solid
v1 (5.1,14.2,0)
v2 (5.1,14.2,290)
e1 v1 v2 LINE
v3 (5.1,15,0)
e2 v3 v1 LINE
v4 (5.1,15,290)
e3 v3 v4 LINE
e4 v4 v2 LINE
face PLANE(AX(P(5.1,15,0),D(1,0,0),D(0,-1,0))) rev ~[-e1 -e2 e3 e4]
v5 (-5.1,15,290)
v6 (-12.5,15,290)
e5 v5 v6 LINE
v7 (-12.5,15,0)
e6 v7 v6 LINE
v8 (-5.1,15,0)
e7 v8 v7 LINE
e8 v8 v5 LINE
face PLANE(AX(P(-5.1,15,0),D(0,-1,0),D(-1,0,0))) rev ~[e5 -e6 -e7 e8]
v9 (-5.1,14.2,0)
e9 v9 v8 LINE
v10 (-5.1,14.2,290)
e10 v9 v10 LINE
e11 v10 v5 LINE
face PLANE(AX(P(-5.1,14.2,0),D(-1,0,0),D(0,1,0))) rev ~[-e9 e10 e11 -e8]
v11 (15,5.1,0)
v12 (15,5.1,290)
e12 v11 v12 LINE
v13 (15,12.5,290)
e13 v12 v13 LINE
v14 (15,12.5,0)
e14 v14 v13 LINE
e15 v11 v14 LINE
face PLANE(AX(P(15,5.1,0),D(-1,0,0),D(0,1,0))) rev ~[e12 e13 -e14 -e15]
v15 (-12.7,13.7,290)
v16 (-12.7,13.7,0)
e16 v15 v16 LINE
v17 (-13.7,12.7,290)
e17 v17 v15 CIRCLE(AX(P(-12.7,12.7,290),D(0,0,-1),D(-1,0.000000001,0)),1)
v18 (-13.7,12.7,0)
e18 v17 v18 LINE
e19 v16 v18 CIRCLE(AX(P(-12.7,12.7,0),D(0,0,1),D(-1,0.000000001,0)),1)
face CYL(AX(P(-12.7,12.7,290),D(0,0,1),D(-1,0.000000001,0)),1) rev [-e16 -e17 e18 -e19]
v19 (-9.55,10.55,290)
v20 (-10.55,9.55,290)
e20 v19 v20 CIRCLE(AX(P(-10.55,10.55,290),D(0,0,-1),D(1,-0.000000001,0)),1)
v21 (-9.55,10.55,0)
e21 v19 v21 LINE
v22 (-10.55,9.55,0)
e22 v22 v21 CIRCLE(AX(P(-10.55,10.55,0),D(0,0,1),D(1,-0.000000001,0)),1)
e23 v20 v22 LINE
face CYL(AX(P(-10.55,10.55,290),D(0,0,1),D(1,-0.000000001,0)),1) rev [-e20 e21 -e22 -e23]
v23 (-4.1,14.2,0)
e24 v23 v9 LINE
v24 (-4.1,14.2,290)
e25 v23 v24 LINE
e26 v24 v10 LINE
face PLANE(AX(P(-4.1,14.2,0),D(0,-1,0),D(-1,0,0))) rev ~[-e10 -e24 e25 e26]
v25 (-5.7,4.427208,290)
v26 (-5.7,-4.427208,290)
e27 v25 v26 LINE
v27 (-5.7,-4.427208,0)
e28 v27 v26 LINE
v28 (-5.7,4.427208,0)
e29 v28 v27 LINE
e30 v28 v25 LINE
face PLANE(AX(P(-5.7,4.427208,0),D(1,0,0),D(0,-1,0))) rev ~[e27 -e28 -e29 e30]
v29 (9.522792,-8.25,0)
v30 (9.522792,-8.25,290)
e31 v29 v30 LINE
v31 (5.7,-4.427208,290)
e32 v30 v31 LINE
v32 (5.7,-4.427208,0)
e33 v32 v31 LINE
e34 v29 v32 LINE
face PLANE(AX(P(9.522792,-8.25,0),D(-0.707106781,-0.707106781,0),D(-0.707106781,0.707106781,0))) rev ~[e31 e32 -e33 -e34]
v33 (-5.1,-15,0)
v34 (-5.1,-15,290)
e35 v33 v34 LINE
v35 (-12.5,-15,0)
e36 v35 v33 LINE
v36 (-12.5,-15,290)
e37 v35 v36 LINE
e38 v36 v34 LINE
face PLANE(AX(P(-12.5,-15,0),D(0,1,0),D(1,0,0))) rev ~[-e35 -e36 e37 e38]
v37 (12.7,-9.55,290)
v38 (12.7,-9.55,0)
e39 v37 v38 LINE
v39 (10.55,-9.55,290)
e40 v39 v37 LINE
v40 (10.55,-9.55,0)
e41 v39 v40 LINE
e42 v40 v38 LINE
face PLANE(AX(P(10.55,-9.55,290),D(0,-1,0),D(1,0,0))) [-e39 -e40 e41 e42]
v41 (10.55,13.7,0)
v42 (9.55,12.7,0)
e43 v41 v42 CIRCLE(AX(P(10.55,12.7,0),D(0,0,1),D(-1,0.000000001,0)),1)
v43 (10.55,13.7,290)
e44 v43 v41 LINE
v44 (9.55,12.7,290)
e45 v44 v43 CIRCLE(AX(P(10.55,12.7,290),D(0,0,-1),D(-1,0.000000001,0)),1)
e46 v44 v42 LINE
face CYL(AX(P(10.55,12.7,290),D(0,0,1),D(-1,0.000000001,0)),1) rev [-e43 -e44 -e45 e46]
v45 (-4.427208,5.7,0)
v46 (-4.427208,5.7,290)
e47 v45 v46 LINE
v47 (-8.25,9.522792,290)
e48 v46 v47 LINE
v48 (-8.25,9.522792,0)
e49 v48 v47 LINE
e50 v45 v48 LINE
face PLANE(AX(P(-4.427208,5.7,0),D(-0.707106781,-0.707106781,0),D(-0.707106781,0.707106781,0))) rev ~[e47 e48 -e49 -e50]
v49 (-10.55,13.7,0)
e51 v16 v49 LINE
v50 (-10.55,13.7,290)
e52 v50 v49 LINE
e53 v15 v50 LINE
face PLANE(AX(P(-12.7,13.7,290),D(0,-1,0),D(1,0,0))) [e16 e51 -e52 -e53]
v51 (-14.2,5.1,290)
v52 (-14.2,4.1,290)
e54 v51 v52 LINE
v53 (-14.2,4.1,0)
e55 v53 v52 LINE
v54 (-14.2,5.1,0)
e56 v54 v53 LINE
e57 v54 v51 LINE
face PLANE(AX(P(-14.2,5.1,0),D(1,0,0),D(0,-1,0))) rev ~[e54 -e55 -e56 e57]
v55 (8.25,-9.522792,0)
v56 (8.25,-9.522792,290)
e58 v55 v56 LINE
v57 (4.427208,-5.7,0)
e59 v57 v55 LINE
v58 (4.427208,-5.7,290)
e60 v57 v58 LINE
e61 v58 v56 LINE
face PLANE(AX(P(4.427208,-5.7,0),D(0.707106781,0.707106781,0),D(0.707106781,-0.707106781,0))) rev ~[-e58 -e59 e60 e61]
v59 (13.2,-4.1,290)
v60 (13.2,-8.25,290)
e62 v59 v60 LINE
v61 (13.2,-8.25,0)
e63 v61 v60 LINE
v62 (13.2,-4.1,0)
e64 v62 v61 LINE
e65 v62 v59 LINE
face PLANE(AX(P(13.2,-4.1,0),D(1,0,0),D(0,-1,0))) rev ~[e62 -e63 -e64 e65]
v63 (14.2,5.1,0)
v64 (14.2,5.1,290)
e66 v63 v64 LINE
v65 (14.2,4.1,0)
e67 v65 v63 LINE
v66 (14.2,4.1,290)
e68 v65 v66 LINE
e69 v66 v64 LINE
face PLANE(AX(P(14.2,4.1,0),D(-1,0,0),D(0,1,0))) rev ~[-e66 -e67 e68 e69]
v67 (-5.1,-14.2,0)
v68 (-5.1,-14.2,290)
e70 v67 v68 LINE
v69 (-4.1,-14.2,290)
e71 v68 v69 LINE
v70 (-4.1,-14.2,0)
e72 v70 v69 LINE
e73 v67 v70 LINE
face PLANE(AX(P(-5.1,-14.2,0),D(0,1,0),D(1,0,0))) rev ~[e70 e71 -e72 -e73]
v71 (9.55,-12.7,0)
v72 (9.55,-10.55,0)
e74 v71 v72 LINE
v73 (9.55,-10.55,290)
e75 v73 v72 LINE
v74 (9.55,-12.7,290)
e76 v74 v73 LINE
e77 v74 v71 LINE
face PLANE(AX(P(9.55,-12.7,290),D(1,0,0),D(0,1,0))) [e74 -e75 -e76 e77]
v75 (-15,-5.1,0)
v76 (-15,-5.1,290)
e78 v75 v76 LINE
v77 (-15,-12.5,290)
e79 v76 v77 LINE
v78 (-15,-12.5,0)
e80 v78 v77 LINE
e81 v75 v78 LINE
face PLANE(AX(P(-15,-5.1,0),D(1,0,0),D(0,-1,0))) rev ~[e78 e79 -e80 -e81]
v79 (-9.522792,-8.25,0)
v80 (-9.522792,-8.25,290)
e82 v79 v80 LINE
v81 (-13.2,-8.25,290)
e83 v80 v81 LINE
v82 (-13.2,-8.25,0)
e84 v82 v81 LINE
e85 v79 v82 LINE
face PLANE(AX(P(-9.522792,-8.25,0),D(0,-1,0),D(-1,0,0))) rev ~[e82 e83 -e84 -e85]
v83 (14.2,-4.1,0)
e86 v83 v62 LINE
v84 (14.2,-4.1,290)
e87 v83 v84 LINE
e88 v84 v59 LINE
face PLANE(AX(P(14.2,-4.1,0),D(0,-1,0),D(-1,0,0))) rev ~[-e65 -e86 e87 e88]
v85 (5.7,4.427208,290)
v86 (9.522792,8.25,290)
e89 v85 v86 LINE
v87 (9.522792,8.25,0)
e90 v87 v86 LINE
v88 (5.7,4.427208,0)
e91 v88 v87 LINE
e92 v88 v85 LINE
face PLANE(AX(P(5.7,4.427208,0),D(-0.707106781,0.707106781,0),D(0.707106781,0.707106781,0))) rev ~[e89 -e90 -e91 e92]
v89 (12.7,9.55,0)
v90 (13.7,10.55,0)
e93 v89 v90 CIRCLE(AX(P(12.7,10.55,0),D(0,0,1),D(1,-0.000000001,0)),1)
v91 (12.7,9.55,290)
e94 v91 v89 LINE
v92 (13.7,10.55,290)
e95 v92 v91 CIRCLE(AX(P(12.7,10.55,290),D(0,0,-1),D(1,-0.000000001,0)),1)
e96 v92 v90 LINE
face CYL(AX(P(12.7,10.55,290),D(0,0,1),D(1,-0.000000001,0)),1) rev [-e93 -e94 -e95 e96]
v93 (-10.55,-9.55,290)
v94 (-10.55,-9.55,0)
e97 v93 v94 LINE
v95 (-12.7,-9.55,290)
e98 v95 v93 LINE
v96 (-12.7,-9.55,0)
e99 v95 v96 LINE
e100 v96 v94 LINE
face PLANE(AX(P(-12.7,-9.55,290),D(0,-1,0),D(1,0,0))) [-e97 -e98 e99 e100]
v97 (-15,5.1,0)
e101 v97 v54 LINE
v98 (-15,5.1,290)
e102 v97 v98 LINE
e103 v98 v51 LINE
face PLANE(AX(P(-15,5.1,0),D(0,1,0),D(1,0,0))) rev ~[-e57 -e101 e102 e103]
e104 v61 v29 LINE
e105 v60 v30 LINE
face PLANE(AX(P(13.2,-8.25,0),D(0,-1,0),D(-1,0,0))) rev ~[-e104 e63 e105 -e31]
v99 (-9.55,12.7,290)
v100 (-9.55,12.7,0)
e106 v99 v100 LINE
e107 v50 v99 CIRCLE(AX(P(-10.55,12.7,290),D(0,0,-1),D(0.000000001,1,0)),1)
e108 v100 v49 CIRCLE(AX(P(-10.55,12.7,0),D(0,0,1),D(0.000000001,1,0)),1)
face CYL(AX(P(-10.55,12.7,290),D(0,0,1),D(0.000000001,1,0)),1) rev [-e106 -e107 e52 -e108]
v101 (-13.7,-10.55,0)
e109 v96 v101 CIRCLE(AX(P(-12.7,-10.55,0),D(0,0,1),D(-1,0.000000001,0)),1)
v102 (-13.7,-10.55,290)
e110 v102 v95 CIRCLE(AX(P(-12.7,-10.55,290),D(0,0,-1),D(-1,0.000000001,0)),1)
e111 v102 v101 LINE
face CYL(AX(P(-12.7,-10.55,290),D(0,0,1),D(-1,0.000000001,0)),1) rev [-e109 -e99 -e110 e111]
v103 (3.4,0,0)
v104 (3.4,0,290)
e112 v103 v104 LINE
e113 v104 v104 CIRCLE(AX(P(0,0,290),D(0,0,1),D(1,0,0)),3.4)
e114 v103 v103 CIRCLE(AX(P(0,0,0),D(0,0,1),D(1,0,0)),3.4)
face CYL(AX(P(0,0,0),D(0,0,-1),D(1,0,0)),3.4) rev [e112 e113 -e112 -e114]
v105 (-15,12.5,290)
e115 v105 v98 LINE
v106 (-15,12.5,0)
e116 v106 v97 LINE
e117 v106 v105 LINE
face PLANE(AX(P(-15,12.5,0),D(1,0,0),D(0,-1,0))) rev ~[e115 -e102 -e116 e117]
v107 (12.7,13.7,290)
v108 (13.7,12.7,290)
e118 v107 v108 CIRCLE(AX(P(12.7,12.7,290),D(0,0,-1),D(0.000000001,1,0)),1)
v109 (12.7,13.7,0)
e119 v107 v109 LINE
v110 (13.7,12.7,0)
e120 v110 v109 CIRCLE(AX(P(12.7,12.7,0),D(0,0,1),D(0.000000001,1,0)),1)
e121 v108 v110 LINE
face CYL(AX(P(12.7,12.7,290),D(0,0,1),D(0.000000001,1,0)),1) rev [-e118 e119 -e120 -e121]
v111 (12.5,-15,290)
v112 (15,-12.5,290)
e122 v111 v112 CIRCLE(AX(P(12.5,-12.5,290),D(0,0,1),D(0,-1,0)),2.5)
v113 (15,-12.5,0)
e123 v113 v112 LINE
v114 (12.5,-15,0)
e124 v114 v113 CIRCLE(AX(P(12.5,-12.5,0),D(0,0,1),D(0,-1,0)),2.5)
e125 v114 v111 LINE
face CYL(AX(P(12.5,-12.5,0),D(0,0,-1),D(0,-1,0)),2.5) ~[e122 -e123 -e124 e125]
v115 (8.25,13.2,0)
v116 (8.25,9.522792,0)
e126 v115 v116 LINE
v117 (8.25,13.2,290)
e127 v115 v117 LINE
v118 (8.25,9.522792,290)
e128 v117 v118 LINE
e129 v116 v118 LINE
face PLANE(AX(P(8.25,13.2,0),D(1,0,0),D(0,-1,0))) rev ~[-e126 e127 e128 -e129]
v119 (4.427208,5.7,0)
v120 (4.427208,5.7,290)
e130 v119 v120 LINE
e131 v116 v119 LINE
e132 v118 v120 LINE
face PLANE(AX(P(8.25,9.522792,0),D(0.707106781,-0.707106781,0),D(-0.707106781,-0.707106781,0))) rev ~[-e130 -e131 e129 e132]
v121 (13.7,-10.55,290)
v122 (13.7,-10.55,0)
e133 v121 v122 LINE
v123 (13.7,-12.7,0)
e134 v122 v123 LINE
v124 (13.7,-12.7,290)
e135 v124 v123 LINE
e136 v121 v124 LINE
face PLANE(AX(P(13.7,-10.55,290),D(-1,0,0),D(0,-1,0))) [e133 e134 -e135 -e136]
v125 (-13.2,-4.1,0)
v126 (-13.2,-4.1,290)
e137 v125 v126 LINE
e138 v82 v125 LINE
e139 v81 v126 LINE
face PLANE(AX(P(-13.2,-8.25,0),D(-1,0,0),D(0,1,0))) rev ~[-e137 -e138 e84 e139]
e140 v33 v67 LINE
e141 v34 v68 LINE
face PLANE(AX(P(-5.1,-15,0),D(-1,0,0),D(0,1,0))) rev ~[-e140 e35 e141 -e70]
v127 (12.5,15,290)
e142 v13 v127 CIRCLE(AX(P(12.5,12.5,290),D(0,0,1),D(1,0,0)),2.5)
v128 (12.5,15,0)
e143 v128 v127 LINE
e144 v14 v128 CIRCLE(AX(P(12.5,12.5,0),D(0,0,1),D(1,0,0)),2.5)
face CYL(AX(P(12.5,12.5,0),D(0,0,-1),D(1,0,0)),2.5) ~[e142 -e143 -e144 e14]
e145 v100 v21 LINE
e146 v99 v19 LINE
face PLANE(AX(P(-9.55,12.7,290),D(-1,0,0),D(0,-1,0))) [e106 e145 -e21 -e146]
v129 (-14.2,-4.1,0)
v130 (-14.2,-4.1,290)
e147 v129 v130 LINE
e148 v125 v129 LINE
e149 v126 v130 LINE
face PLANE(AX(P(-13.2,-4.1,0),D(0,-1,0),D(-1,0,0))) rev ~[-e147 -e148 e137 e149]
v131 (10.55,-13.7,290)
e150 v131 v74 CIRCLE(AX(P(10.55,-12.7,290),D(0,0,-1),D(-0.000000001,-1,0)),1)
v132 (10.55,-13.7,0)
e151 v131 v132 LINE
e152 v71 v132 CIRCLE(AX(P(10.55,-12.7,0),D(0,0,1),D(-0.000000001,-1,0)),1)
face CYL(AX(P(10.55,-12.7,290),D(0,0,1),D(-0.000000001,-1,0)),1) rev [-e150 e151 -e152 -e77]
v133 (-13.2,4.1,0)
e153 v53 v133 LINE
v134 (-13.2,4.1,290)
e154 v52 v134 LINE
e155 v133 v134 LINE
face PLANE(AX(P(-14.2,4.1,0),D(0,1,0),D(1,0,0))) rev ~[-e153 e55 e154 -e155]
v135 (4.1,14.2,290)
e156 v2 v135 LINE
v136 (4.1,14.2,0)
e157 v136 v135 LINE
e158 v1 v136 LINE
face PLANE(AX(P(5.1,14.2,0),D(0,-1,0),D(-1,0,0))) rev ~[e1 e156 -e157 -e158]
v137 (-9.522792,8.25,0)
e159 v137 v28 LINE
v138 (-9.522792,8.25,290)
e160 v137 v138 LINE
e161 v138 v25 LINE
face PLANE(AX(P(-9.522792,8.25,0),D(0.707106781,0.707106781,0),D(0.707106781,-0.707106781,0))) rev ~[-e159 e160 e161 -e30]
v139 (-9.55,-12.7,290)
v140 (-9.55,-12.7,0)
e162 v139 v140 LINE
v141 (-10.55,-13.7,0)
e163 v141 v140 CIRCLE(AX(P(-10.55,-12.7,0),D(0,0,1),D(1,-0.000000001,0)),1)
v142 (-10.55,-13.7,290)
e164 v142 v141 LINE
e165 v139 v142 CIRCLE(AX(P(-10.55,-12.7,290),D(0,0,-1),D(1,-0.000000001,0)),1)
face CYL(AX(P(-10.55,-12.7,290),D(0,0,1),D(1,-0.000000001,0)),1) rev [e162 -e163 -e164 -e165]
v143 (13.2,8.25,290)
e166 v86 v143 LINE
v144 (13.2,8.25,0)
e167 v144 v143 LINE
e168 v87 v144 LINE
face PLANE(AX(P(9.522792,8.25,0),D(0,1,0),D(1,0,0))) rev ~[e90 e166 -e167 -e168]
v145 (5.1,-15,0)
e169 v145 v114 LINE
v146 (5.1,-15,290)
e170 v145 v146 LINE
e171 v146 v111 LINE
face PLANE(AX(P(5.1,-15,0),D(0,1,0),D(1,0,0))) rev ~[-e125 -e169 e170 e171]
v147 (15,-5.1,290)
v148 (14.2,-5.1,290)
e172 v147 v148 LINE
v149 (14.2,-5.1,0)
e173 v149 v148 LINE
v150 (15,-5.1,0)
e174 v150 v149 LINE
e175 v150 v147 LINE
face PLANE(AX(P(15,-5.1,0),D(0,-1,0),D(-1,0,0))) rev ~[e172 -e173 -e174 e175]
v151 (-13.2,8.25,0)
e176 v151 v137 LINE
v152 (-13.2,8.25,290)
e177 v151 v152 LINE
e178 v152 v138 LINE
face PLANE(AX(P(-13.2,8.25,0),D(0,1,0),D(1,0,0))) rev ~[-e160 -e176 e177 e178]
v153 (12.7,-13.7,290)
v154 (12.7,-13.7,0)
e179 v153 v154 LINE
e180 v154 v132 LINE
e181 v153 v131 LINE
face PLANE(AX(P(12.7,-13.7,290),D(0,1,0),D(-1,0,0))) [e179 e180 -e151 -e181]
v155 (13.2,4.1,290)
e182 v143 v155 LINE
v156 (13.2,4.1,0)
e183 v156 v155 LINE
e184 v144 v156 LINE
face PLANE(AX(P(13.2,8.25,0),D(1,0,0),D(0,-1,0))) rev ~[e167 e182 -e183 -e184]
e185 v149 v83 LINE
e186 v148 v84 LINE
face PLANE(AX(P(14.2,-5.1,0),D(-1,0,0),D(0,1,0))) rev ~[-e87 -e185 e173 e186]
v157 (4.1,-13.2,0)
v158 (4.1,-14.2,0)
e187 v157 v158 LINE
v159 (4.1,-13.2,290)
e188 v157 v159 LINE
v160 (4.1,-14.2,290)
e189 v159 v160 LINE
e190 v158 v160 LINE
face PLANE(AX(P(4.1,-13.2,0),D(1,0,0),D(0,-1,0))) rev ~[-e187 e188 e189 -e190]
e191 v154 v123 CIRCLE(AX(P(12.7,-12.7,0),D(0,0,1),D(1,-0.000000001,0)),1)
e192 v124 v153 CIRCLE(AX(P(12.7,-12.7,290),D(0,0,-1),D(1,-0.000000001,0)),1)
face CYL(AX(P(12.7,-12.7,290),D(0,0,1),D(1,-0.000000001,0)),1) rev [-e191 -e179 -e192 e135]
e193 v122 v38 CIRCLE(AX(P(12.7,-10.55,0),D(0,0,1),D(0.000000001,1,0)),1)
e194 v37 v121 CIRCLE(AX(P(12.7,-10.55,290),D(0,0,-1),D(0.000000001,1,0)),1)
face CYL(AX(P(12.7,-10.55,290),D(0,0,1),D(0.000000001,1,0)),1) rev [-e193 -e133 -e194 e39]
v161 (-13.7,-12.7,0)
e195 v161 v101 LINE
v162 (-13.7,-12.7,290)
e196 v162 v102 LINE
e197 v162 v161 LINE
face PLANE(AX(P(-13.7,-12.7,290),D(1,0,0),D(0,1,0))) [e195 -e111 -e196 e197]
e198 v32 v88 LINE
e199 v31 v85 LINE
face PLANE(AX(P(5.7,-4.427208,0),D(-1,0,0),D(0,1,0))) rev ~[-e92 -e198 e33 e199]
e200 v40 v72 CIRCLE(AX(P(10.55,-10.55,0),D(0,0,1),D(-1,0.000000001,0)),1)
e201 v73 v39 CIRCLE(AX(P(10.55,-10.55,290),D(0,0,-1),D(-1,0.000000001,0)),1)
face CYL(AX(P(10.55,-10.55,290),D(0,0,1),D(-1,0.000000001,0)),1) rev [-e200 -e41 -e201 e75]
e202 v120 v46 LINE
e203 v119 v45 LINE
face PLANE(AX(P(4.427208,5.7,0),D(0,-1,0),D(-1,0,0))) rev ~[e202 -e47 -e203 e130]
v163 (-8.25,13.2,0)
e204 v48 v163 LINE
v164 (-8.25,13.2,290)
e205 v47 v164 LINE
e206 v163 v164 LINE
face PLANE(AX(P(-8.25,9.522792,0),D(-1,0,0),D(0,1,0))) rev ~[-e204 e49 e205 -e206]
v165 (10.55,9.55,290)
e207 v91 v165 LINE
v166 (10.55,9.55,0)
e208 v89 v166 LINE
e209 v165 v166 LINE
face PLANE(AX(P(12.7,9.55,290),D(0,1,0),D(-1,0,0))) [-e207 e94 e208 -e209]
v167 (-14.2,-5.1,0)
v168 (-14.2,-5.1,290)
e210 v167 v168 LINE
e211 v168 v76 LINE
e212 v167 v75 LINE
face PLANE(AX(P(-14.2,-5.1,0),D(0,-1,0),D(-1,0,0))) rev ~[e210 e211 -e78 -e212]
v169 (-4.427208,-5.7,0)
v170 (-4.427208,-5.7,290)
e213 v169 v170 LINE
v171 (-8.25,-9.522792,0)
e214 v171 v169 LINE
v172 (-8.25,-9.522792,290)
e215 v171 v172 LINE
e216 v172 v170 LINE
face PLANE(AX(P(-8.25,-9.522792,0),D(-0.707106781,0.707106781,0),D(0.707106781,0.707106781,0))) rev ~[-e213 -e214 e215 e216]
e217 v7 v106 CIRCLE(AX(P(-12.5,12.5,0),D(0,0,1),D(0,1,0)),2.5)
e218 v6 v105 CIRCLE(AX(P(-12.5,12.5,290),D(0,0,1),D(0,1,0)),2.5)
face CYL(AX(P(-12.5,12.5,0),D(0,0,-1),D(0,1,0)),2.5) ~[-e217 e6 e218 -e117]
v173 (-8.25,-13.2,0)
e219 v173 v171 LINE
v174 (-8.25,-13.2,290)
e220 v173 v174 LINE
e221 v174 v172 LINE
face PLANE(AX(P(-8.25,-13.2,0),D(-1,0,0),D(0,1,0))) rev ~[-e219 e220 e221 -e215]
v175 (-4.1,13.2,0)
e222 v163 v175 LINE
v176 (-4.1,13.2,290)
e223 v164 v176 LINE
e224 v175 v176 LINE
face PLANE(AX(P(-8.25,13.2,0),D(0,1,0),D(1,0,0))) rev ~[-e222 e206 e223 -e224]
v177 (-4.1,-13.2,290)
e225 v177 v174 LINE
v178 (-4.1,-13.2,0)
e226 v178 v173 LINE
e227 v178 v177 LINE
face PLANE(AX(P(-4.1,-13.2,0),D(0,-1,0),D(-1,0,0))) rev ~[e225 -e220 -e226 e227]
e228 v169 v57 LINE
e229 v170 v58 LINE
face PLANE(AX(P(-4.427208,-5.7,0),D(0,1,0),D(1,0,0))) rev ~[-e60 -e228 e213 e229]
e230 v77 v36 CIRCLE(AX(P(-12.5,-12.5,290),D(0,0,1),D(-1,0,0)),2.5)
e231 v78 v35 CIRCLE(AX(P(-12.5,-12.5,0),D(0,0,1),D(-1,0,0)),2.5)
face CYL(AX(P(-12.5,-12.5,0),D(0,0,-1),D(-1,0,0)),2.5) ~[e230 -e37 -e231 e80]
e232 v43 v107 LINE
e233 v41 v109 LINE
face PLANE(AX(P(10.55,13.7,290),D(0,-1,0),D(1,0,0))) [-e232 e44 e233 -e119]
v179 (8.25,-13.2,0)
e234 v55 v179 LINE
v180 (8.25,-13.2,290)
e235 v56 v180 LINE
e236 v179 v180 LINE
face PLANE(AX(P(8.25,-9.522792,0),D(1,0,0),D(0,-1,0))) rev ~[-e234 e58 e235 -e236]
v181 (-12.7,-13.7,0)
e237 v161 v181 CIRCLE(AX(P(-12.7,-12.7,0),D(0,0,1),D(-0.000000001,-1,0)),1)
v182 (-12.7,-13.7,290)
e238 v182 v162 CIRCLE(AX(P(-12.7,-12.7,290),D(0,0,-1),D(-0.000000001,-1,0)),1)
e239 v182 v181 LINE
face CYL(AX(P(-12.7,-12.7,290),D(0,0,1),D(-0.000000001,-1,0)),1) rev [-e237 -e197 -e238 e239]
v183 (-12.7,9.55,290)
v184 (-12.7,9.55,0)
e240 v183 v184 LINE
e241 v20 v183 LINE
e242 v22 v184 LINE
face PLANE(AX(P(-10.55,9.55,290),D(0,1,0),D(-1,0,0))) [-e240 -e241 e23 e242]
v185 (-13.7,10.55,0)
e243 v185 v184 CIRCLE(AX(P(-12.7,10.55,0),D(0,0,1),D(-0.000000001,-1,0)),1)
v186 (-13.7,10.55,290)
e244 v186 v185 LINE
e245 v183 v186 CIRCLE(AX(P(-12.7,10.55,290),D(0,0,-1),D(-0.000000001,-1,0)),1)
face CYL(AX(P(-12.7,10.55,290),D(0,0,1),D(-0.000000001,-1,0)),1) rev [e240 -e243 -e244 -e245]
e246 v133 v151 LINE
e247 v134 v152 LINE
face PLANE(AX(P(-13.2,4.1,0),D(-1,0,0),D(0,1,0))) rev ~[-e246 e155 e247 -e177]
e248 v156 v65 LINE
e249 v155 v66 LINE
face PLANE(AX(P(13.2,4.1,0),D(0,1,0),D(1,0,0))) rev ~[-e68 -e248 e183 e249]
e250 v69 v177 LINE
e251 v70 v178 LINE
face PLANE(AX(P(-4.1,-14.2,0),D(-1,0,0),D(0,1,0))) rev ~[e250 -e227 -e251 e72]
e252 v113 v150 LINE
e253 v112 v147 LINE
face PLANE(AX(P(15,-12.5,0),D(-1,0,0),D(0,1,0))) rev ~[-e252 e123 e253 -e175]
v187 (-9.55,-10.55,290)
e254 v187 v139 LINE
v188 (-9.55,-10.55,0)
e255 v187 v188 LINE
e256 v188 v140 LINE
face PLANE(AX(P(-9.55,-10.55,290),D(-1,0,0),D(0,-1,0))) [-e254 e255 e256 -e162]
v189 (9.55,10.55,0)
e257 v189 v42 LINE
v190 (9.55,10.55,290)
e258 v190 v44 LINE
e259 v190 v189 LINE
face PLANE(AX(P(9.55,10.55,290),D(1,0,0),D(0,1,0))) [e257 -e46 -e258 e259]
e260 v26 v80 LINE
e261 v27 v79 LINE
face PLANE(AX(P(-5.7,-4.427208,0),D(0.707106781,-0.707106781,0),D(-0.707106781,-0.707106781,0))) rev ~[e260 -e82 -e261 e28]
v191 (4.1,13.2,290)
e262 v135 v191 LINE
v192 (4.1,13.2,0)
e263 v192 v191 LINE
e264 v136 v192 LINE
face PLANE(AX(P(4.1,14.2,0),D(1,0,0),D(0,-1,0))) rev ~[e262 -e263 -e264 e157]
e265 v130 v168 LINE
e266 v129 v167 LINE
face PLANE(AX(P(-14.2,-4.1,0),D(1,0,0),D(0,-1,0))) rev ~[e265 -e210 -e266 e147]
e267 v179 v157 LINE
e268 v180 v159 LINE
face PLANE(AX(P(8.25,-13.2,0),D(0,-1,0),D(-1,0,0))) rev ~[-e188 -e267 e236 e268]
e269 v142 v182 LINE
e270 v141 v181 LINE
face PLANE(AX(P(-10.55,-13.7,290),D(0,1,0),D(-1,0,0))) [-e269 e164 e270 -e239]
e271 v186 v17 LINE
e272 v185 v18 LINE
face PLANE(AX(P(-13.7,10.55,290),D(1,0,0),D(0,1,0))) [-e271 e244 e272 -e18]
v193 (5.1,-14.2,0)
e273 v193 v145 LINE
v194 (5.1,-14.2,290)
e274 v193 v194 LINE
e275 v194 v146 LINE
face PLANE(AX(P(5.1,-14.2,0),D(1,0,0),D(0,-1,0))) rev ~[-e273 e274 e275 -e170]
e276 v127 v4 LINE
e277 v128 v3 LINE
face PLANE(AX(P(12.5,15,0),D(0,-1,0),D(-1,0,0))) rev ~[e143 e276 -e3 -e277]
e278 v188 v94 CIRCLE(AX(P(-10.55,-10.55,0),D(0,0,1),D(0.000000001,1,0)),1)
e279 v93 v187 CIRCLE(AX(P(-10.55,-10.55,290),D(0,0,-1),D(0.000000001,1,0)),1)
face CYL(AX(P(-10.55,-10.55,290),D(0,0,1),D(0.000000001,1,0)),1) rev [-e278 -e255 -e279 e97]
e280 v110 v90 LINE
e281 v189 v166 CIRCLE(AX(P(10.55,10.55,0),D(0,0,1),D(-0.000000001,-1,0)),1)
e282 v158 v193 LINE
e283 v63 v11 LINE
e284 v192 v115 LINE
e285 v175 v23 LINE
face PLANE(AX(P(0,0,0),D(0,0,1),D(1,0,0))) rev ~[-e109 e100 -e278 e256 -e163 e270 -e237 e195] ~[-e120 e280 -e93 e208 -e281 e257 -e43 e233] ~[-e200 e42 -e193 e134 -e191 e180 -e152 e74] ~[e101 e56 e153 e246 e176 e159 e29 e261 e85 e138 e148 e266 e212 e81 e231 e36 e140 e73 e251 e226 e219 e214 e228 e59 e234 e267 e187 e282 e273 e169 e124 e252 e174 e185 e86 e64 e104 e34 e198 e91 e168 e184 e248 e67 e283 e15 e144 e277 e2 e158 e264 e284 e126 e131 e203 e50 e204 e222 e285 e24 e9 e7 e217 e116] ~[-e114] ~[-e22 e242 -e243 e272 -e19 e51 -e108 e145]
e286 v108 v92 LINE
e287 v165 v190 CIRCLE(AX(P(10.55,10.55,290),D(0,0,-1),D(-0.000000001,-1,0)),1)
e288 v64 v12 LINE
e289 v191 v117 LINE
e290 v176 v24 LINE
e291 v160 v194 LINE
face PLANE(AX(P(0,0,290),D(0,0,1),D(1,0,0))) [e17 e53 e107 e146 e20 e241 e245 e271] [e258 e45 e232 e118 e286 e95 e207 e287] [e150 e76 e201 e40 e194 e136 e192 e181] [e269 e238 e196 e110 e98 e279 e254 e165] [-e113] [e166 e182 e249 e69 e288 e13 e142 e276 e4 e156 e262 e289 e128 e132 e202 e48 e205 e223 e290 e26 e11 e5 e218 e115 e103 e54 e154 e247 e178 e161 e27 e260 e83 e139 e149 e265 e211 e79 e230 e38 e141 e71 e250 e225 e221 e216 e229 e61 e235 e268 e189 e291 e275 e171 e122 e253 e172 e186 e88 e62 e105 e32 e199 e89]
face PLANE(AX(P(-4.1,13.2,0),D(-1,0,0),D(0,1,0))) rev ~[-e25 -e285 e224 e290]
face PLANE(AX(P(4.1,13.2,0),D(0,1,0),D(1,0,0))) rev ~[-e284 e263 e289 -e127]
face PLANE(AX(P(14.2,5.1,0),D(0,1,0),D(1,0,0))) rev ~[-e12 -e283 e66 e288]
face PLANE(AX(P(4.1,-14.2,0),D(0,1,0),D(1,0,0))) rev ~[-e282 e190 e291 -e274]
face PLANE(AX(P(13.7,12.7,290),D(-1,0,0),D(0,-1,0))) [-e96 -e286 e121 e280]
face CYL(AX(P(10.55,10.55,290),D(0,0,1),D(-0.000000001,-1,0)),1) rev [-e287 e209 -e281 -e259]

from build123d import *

# Parameters (mm, degrees)
SKETCH1_R      = 3.4
EXTRUDE1_DEPTH = 290
EXTRUDE2_DEPTH = 291.774826971


with BuildPart() as part:
    # Sketch1 → Extrude1 (new body)
    with BuildSketch(Plane.XY):
        with BuildLine():
            Line((-5.1, 14.2), (-5.1, 15))
            Line((-5.1, 15), (-12.5, 15))
            ThreePointArc((-12.5, 15), (-14.267766953, 14.267766953), (-15, 12.5))
            Line((-15, 12.5), (-15, 5.1))
            Line((-15, 5.1), (-14.2, 5.1))
            Line((-14.2, 5.1), (-14.2, 4.1))
            Line((-14.2, 4.1), (-13.2, 4.1))
            Line((-13.2, 4.1), (-13.2, 8.25))
            Line((-13.2, 8.25), (-9.522792206, 8.25))
            Line((-9.522792206, 8.25), (-5.7, 4.427207794))
            Line((-5.7, 4.427207794), (-5.7, -4.427207794))
            Line((-5.7, -4.427207794), (-9.522792206, -8.25))
            Line((-9.522792206, -8.25), (-13.2, -8.25))
            Line((-13.2, -8.25), (-13.2, -4.1))
            Line((-13.2, -4.1), (-14.2, -4.1))
            Line((-14.2, -4.1), (-14.2, -5.1))
            Line((-14.2, -5.1), (-15, -5.1))
            Line((-15, -5.1), (-15, -12.5))
            ThreePointArc((-15, -12.5), (-14.267766953, -14.267766953), (-12.5, -15))
            Line((-12.5, -15), (-5.1, -15))
            Line((-5.1, -15), (-5.1, -14.2))
            Line((-5.1, -14.2), (-4.1, -14.2))
            Line((-4.1, -14.2), (-4.1, -13.2))
            Line((-4.1, -13.2), (-8.25, -13.2))
            Line((-8.25, -13.2), (-8.25, -9.522792206))
            Line((-8.25, -9.522792206), (-4.427207794, -5.7))
            Line((-4.427207794, -5.7), (4.427207794, -5.7))
            Line((4.427207794, -5.7), (8.25, -9.522792206))
            Line((8.25, -9.522792206), (8.25, -13.2))
            Line((8.25, -13.2), (4.1, -13.2))
            Line((4.1, -13.2), (4.1, -14.2))
            Line((4.1, -14.2), (5.1, -14.2))
            Line((5.1, -14.2), (5.1, -15))
            Line((5.1, -15), (12.5, -15))
            ThreePointArc((12.5, -15), (14.267766953, -14.267766953), (15, -12.5))
            Line((15, -12.5), (15, -5.1))
            Line((15, -5.1), (14.2, -5.1))
            Line((14.2, -5.1), (14.2, -4.1))
            Line((14.2, -4.1), (13.2, -4.1))
            Line((13.2, -4.1), (13.2, -8.25))
            Line((13.2, -8.25), (9.522792206, -8.25))
            Line((9.522792206, -8.25), (5.7, -4.427207794))
            Line((5.7, -4.427207794), (5.7, 4.427207794))
            Line((5.7, 4.427207794), (9.522792206, 8.25))
            Line((9.522792206, 8.25), (13.2, 8.25))
            Line((13.2, 8.25), (13.2, 4.1))
            Line((13.2, 4.1), (14.2, 4.1))
            Line((14.2, 4.1), (14.2, 5.1))
            Line((14.2, 5.1), (15, 5.1))
            Line((15, 5.1), (15, 12.5))
            ThreePointArc((15, 12.5), (14.267766953, 14.267766953), (12.5, 15))
            Line((12.5, 15), (5.1, 15))
            Line((5.1, 15), (5.1, 14.2))
            Line((5.1, 14.2), (4.1, 14.2))
            Line((4.1, 14.2), (4.1, 13.2))
            Line((4.1, 13.2), (8.25, 13.2))
            Line((8.25, 13.2), (8.25, 9.522792206))
            Line((8.25, 9.522792206), (4.427207794, 5.7))
            Line((4.427207794, 5.7), (-4.427207794, 5.7))
            Line((-4.427207794, 5.7), (-8.25, 9.522792206))
            Line((-8.25, 9.522792206), (-8.25, 13.2))
            Line((-8.25, 13.2), (-4.1, 13.2))
            Line((-4.1, 13.2), (-4.1, 14.2))
            Line((-4.1, 14.2), (-5.1, 14.2))
        make_face()
        Circle(SKETCH1_R, mode=Mode.SUBTRACT)
    extrude(amount=EXTRUDE1_DEPTH)

    # Sketch2 → Extrude2 (cut, through all)
    with BuildSketch(Plane.XY.offset(290)):
        with BuildLine():
            Line((13.7, 12.7), (13.7, 10.55))
            ThreePointArc((13.7, 10.55), (13.407106781, 9.842893219), (12.7, 9.55))
            Line((12.7, 9.55), (10.55, 9.55))
            ThreePointArc((10.55, 9.55), (9.842893219, 9.842893219), (9.55, 10.55))
            Line((9.55, 10.55), (9.55, 12.7))
            ThreePointArc((9.55, 12.7), (9.842893219, 13.407106781), (10.55, 13.7))
            Line((10.55, 13.7), (12.7, 13.7))
            ThreePointArc((12.7, 13.7), (13.407106781, 13.407106781), (13.7, 12.7))
        make_face()
        with BuildLine():
            Line((-12.7, 13.7), (-10.55, 13.7))
            ThreePointArc((-10.55, 13.7), (-9.842893219, 13.407106781), (-9.55, 12.7))
            Line((-9.55, 12.7), (-9.55, 10.55))
            ThreePointArc((-9.55, 10.55), (-9.842893219, 9.842893219), (-10.55, 9.55))
            Line((-10.55, 9.55), (-12.7, 9.55))
            ThreePointArc((-12.7, 9.55), (-13.407106781, 9.842893219), (-13.7, 10.55))
            Line((-13.7, 10.55), (-13.7, 12.7))
            ThreePointArc((-13.7, 12.7), (-13.407106781, 13.407106781), (-12.7, 13.7))
        make_face()
        with BuildLine():
            Line((12.7, -13.7), (10.55, -13.7))
            ThreePointArc((10.55, -13.7), (9.842893219, -13.407106781), (9.55, -12.7))
            Line((9.55, -12.7), (9.55, -10.55))
            ThreePointArc((9.55, -10.55), (9.842893219, -9.842893219), (10.55, -9.55))
            Line((10.55, -9.55), (12.7, -9.55))
            ThreePointArc((12.7, -9.55), (13.407106781, -9.842893219), (13.7, -10.55))
            Line((13.7, -10.55), (13.7, -12.7))
            ThreePointArc((13.7, -12.7), (13.407106781, -13.407106781), (12.7, -13.7))
        make_face()
        with BuildLine():
            Line((-13.7, -12.7), (-13.7, -10.55))
            ThreePointArc((-13.7, -10.55), (-13.407106781, -9.842893219), (-12.7, -9.55))
            Line((-12.7, -9.55), (-10.55, -9.55))
            ThreePointArc((-10.55, -9.55), (-9.842893219, -9.842893219), (-9.55, -10.55))
            Line((-9.55, -10.55), (-9.55, -12.7))
            ThreePointArc((-9.55, -12.7), (-9.842893219, -13.407106781), (-10.55, -13.7))
            Line((-10.55, -13.7), (-12.7, -13.7))
            ThreePointArc((-12.7, -13.7), (-13.407106781, -13.407106781), (-13.7, -12.7))
        make_face()
    extrude(amount=-EXTRUDE2_DEPTH, mode=Mode.SUBTRACT)


solid = part.part
